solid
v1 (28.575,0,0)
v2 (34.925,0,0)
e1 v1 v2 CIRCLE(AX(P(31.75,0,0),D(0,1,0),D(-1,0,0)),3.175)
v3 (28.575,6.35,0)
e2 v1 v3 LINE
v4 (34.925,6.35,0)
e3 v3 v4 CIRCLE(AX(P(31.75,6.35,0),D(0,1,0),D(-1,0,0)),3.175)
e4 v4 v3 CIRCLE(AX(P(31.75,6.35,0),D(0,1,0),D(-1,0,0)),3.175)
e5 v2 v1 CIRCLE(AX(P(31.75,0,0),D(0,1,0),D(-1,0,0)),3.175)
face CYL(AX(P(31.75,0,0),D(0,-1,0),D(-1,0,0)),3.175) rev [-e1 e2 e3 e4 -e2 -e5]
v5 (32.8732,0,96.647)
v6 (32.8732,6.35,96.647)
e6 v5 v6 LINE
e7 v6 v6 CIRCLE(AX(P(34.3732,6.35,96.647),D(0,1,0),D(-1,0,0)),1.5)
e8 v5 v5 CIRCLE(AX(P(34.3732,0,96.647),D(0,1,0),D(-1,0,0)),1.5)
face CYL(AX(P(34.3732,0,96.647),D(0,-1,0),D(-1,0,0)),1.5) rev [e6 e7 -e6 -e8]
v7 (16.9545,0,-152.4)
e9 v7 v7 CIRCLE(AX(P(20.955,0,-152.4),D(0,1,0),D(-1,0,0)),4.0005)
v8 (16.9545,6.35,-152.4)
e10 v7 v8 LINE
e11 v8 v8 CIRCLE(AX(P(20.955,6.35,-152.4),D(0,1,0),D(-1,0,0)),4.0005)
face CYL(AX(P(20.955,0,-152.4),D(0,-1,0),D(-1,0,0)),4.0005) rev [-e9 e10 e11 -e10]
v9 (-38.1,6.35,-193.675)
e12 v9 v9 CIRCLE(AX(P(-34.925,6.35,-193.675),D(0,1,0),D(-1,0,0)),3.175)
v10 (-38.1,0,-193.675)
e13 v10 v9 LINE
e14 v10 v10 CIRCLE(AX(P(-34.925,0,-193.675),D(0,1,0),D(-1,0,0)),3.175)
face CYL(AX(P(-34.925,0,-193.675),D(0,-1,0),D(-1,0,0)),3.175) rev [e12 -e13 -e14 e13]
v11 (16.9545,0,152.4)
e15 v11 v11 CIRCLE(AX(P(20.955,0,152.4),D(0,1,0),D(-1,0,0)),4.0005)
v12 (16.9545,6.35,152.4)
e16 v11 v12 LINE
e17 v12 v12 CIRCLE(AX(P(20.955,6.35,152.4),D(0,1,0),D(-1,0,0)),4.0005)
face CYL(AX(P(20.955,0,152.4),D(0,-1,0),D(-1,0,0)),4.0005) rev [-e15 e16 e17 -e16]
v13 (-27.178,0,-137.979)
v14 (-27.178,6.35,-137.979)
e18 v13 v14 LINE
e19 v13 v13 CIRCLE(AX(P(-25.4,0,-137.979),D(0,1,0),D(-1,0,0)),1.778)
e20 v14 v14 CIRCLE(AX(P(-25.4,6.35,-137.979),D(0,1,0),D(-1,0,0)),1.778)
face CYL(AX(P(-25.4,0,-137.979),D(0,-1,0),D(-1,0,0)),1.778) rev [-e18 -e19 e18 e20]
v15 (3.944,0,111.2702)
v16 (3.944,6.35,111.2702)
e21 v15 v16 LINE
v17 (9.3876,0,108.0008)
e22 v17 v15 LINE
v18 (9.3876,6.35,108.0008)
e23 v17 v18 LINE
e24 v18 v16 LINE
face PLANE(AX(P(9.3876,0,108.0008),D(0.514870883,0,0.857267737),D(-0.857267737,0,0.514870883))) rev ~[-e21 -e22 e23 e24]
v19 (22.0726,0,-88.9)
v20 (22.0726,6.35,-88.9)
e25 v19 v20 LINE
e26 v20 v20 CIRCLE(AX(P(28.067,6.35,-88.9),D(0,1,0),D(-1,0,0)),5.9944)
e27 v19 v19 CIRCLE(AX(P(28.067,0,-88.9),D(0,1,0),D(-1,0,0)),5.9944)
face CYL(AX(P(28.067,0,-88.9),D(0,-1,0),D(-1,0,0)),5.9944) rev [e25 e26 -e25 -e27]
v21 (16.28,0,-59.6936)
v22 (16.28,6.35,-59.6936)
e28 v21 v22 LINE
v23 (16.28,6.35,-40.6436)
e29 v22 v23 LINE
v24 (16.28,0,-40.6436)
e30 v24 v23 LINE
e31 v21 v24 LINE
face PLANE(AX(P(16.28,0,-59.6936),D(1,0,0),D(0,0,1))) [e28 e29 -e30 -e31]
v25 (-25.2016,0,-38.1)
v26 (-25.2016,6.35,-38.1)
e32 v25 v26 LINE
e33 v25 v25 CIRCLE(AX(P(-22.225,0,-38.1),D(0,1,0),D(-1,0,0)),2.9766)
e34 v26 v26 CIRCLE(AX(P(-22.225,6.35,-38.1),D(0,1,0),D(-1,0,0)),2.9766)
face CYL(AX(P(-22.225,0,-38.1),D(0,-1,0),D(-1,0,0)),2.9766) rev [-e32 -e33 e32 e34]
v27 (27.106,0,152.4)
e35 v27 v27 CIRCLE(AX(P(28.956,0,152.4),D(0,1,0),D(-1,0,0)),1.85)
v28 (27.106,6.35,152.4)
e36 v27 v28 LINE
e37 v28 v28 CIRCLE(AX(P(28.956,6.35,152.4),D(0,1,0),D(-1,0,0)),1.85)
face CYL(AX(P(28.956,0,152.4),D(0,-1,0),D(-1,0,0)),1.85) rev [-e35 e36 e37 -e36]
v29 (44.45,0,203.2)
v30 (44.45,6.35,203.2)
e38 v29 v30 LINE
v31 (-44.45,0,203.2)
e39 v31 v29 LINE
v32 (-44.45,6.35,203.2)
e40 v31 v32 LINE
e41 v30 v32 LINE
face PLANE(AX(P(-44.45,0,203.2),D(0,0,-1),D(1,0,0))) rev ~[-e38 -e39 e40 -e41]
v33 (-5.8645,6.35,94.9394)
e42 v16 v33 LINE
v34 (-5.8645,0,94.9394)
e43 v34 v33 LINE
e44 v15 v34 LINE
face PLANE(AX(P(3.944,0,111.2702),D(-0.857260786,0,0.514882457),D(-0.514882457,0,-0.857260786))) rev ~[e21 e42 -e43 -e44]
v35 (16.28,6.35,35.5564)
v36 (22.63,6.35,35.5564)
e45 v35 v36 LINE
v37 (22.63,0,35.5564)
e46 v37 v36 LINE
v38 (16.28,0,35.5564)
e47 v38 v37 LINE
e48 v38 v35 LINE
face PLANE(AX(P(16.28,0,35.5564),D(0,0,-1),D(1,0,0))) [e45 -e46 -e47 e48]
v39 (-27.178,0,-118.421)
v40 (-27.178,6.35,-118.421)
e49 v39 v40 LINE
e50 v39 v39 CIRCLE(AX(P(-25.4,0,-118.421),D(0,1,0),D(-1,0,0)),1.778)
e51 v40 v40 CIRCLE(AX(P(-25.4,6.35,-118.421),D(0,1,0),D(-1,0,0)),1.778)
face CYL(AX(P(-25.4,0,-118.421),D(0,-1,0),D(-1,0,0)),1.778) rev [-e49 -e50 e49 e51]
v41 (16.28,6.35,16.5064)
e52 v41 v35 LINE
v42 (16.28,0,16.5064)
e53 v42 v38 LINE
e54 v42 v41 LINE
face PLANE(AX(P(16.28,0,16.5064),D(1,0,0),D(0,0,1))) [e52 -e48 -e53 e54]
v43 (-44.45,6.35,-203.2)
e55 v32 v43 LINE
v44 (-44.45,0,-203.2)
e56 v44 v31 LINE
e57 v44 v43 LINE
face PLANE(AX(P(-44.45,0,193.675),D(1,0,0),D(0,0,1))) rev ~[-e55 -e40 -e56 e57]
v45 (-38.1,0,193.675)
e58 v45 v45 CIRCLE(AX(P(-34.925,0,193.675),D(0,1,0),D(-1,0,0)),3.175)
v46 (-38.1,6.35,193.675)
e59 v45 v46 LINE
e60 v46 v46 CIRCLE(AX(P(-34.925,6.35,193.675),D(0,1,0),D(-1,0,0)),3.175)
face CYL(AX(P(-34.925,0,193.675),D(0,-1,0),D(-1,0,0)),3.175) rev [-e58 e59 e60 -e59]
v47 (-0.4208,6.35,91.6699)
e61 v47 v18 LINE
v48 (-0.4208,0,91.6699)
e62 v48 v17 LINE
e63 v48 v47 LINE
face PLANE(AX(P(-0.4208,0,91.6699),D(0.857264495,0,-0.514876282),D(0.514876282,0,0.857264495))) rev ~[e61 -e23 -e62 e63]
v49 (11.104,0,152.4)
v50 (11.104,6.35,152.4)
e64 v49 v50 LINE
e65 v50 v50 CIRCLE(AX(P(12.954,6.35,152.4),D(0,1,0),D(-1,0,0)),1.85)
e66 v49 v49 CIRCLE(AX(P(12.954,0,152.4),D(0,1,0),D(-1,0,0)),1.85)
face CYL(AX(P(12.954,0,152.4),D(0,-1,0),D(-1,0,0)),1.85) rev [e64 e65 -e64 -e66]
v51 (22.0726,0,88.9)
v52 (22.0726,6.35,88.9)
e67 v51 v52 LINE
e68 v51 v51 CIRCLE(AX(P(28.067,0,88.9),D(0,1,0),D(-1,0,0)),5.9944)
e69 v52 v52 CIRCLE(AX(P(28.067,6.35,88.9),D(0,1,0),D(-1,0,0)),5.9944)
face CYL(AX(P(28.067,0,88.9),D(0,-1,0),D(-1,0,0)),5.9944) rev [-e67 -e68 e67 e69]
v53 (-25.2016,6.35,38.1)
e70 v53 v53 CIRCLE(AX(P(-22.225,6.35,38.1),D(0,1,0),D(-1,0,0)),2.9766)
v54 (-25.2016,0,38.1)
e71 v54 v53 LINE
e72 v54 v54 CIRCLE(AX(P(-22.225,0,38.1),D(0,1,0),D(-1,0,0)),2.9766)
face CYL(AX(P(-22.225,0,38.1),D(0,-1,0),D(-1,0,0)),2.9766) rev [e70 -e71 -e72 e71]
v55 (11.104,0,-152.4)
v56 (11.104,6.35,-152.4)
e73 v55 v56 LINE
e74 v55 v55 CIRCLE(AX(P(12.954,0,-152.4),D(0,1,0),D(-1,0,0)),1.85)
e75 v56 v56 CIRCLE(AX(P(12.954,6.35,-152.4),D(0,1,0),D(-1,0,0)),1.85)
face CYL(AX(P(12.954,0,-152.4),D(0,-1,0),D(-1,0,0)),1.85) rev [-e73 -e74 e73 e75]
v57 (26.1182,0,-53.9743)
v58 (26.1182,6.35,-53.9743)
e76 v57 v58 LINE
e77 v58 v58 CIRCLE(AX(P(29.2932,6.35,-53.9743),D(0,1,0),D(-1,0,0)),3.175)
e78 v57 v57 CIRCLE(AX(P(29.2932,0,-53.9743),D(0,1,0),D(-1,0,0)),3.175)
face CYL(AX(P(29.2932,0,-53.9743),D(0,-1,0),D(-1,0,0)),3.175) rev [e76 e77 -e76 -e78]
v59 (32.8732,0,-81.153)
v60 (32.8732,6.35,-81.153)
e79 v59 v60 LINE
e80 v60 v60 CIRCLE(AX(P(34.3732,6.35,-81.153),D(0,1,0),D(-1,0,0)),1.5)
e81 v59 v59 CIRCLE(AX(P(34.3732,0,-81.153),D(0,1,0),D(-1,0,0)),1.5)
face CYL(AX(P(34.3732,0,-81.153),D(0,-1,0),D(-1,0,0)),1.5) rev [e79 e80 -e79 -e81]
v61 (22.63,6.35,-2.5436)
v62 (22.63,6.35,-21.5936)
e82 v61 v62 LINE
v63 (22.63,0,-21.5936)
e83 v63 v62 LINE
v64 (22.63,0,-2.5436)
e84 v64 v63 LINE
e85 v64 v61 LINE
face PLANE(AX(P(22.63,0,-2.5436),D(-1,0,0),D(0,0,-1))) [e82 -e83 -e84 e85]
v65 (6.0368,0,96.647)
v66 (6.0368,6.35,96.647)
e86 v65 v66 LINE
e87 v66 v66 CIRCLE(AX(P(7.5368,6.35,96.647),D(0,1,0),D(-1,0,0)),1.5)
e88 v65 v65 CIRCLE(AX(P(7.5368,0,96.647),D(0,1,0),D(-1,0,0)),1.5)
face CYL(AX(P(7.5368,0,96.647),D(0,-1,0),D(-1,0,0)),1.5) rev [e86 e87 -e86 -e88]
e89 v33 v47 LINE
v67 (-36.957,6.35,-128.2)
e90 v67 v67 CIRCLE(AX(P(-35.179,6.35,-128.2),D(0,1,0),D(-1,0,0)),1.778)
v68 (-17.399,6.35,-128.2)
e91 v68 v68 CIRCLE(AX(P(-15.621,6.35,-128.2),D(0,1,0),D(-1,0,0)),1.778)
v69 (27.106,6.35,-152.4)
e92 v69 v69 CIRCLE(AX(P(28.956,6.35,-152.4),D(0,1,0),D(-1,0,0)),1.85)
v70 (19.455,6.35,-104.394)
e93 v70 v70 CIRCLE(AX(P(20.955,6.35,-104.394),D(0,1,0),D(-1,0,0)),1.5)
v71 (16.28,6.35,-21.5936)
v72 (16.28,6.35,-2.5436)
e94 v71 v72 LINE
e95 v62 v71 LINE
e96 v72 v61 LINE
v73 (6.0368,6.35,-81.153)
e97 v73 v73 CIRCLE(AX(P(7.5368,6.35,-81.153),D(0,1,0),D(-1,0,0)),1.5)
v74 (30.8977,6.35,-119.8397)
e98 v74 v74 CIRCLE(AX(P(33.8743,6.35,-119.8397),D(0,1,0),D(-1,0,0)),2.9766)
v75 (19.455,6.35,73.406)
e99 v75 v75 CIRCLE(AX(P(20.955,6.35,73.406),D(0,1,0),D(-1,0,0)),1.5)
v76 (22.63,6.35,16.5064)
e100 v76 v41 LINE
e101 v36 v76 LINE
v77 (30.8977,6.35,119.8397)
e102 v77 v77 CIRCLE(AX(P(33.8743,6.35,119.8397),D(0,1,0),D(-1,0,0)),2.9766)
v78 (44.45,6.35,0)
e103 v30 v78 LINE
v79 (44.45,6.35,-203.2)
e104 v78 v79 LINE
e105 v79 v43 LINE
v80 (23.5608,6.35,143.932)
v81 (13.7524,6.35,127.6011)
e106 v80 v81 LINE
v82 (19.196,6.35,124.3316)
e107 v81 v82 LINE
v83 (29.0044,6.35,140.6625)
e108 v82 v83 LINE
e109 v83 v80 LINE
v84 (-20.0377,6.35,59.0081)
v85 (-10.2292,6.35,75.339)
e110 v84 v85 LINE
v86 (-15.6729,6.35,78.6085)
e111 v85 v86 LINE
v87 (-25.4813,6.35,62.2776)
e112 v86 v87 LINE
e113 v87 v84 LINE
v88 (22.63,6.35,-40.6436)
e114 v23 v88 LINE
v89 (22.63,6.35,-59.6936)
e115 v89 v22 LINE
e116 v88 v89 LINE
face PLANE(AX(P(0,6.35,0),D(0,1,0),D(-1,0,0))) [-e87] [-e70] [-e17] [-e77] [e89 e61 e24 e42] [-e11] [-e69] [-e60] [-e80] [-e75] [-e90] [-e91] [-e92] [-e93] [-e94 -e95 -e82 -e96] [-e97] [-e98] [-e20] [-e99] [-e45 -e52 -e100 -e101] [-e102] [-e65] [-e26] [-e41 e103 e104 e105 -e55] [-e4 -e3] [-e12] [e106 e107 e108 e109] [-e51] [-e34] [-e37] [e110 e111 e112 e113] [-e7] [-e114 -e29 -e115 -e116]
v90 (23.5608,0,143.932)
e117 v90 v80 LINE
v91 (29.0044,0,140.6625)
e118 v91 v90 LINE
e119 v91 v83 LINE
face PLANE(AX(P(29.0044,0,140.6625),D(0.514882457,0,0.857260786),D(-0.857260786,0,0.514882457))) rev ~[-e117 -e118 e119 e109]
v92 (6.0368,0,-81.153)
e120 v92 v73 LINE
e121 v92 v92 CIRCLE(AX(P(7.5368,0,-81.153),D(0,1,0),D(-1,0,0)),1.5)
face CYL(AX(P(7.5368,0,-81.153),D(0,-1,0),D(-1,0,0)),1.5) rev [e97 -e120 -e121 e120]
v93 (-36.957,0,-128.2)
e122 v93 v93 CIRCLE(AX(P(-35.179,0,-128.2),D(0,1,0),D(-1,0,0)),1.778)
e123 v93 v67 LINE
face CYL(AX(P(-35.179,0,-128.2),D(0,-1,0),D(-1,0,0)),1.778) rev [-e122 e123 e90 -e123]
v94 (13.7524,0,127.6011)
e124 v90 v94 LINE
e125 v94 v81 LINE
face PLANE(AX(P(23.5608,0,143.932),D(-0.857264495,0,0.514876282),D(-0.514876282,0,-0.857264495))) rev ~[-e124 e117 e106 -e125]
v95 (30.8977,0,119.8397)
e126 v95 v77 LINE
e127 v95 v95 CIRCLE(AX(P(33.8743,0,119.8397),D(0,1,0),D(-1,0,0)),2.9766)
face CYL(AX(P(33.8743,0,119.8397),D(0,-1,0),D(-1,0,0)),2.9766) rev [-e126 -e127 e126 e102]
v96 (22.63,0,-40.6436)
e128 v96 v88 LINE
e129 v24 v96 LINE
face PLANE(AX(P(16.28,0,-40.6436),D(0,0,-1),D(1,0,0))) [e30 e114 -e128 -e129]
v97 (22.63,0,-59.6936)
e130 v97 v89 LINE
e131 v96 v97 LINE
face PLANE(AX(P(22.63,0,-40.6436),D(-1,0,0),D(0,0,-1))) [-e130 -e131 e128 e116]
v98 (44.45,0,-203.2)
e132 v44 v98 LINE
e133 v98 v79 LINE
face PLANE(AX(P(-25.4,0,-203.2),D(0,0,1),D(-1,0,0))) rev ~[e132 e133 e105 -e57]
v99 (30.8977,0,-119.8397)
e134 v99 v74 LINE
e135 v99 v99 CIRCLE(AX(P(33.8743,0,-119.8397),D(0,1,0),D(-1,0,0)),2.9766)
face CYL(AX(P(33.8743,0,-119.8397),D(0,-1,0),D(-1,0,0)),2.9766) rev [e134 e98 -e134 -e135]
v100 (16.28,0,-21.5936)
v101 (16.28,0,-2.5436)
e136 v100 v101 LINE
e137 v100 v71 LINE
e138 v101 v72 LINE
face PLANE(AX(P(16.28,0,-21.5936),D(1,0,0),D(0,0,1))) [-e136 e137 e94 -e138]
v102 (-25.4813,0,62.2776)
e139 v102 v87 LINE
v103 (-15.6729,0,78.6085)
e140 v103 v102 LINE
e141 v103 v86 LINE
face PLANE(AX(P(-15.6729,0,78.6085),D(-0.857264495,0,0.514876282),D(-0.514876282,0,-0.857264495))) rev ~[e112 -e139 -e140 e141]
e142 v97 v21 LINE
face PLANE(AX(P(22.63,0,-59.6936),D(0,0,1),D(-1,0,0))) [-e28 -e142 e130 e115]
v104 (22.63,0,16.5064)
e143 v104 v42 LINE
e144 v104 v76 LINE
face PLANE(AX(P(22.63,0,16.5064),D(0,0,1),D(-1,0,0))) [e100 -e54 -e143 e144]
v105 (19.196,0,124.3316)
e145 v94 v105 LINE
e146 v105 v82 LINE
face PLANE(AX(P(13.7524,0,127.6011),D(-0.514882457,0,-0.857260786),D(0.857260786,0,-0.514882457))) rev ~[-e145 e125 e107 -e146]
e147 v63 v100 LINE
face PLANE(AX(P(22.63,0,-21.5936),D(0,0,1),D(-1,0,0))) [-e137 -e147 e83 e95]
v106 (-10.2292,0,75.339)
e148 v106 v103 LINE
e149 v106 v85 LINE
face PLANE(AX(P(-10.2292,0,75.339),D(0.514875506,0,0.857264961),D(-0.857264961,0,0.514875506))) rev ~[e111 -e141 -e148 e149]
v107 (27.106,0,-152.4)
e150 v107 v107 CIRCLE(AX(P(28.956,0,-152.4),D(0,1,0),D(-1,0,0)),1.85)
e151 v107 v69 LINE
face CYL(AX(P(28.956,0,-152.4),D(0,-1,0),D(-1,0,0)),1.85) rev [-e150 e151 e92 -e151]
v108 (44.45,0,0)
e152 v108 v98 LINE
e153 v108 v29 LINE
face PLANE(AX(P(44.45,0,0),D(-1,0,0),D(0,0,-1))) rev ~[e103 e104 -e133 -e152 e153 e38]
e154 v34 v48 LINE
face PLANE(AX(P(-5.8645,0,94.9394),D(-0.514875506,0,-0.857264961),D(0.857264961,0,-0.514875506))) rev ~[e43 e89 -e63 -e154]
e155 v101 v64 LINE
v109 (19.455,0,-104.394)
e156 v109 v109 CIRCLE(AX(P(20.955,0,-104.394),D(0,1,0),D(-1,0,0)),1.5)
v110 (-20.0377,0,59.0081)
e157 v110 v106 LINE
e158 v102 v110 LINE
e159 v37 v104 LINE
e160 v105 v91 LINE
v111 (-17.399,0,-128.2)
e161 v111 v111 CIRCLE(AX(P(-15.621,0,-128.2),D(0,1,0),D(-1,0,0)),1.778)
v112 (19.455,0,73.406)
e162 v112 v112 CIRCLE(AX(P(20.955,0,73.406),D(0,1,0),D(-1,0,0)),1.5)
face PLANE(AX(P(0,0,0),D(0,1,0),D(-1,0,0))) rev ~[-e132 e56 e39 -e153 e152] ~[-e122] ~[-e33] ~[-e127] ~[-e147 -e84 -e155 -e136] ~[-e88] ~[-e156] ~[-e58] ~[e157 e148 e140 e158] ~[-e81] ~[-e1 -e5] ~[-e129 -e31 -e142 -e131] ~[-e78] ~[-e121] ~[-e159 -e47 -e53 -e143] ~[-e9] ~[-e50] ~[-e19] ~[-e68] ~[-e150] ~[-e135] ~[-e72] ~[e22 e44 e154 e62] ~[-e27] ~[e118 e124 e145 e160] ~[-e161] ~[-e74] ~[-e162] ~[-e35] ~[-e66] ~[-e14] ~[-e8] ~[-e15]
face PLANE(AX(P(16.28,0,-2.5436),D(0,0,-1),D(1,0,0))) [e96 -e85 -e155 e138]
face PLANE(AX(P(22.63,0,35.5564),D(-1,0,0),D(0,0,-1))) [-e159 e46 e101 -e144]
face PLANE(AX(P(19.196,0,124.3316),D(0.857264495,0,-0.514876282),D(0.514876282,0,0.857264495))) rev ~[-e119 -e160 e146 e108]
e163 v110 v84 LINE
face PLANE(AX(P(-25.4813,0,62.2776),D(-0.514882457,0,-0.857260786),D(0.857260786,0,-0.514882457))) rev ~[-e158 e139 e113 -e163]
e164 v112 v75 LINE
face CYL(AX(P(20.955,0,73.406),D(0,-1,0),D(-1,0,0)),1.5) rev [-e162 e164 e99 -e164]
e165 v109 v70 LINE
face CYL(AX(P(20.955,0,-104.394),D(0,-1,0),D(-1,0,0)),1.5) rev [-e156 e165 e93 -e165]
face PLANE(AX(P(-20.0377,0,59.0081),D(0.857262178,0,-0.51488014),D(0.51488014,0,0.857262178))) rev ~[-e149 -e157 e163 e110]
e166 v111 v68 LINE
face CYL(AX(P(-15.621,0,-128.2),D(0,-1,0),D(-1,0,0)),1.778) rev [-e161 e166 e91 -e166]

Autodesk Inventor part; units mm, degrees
ref_plane "YZ Plane" through (0, 0, 0) normal (1, 0, 0) x (0, 1, 0)
ref_plane "XZ Plane" through (0, 0, 0) normal (0, 1, 0) x (-1, 0, 0)
ref_plane "XY Plane" through (0, 0, 0) normal (0, 0, 1) x (1, 0, 0)
sketch "Sketch1" plane through (0, 0, 0) normal (0, 1, 0) x (-1, 0, 0)
  line L0 (44.45, 203.2) -> (-44.45, 203.2)
  line L1 (-44.45, 203.2) -> (-44.45, -203.2)
  line L2 (-44.45, -203.2) -> (44.45, -203.2)
  line L3 (44.45, -203.2) -> (44.45, 203.2)
  line L4 (44.45, 203.2) -> (-44.45, -203.2) construction
  line L5 (-44.45, 203.2) -> (44.45, -203.2) construction
  line L6 (-44.45, 203.2) -> (-20.955, 203.2)
  line L7 (-20.955, 203.2) -> (-20.955, 88.9) construction
  line L8 (-44.45, 88.9) -> (-44.45, 203.2)
  circle A0 centre (-20.955, 88.9) radius 15.494 construction
  line L9 (44.45, 203.2) -> (44.45, 111.6492)
  line L10 (44.45, 203.2) -> (44.45, 38.1)
  line L11 (44.45, 38.1) -> (22.225, 38.1) construction
  circle A1 centre (22.225, 38.1) radius 12.065 construction
  line L12 (-66.675, 88.9) -> (0, 88.9) construction
  line L13 (0, 88.9) -> (0, 203.2) construction
  line L14 (0, 203.2) -> (-66.675, 203.2)
  line L15 (-66.675, 203.2) -> (-66.675, 88.9) construction
  line L16 (-66.675, 203.2) -> (-66.675, 209.55) construction
  line L17 (-66.675, 209.55) -> (32.5679, 44.312) construction
  circle A2 centre (-20.955, 104.394) radius 1.5
  circle A3 centre (-34.3732, 96.647) radius 1.5
  circle A4 centre (-34.3732, 81.153) radius 1.5
  circle A5 centre (-20.955, 73.406) radius 1.5
  circle A6 centre (-7.5368, 81.153) radius 1.5
  circle A7 centre (-7.5368, 96.647) radius 1.5
  circle A8 centre (-20.955, 88.9) radius 7.112 construction
  circle A9 centre (-28.067, 88.9) radius 5.9944
  line L18 (-20.955, 88.9) -> (-20.955, 152.4) construction
  circle A10 centre (-20.955, 152.4) radius 8.001 construction
  circle A11 centre (-20.955, 152.4) radius 4.0005
  circle A12 centre (-20.955, 160.401) radius 1.85
  line L19 (42.545, 152.4) -> (-20.955, 152.4) construction
  circle A13 centre (-28.956, 152.4) radius 1.85
  line L20 (-20.955, 215.9) -> (-20.955, 152.4) construction
  circle A14 centre (-20.955, 144.399) radius 1.85
  line L21 (-84.455, 152.4) -> (-20.955, 152.4) construction
  circle A15 centre (-12.954, 152.4) radius 1.85
  line L22 (44.45, 0) -> (-44.45, 0) construction
  circle A16 centre (22.225, 38.1) radius 2.9766
  circle A17 centre (22.225, -38.1) radius 2.9766
  circle A18 centre (-33.8743, 119.8397) radius 12.065 construction
  circle A19 centre (-33.8743, 119.8397) radius 2.9766
  circle A20 centre (-20.955, 152.4) radius 50.8 construction
  line L23 (32.5679, 44.312) -> (22.7595, 60.6429) construction
  line L24 (22.7595, 60.6429) -> (17.8553, 68.8083) construction
  line L25 (15.6729, 78.6085) -> (25.4813, 62.2776)
  line L26 (25.4813, 62.2776) -> (20.0377, 59.0081)
  line L27 (20.0377, 59.0081) -> (10.2292, 75.339)
  line L28 (10.2292, 75.339) -> (15.6729, 78.6085)
  line L29 (15.6729, 78.6085) -> (20.0377, 59.0081) construction
  line L30 (25.4813, 62.2776) -> (10.2292, 75.339) construction
  line L31 (-3.944, 111.2702) -> (5.8645, 94.9394)
  line L32 (-9.3876, 108.0008) -> (-3.944, 111.2702)
  line L33 (5.8645, 94.9394) -> (0.4208, 91.6699)
  line L34 (0.4208, 91.6699) -> (-9.3876, 108.0008)
  line L35 (-23.5608, 143.932) -> (-13.7524, 127.6011)
  line L36 (-29.0044, 140.6625) -> (-23.5608, 143.932)
  line L37 (-13.7524, 127.6011) -> (-19.196, 124.3316)
  line L38 (-19.196, 124.3316) -> (-29.0044, 140.6625)
  circle A21 centre (-20.955, -104.394) radius 1.5
  circle A22 centre (-34.3732, -81.153) radius 1.5
  circle A23 centre (-7.5368, -81.153) radius 1.5
  circle A24 centre (-28.067, -88.9) radius 5.9944
  circle A25 centre (-20.955, -152.4) radius 4.0005
  circle A26 centre (-28.956, -152.4) radius 1.85
  circle A27 centre (-12.954, -152.4) radius 1.85
  circle A28 centre (22.225, -38.1) radius 2.9766
  circle A29 centre (-33.8743, -119.8397) radius 2.9766
  circle A30 centre (-29.2932, -53.9743) radius 3.175
  circle A31 centre (-28.067, 88.9) radius 31.75 construction
  line L39 (-28.067, 88.9) -> (-44.45, 88.9) construction
  line L40 (-44.45, 88.9) -> (-44.45, 12.7)
  line L41 (44.45, 203.2) -> (34.925, 203.2)
  line L42 (34.925, 203.2) -> (34.925, 193.675) construction
  line L43 (34.925, 193.675) -> (44.45, 193.675) construction
  line L44 (44.45, 193.675) -> (44.45, 203.2)
  circle A32 centre (34.925, 193.675) radius 3.175
  line L45 (-44.45, 0) -> (-31.75, 0)
  circle A33 centre (-31.75, 0) radius 3.175
  circle A34 centre (34.925, -193.675) radius 3.175
  line L46 (-44.45, 0) -> (-19.455, 0) construction
  line L47 (-16.28, -76.0639) -> (-22.63, -76.0639) construction
  line L48 (-22.63, -76.0639) -> (-22.63, 51.9267) construction
  line L49 (-22.63, 51.9267) -> (-16.28, 51.9267) construction
  line L50 (-16.28, 51.9267) -> (-16.28, -76.0639) construction
  line L51 (-16.28, -63.9953) -> (-22.63, 63.9953) construction
  line L52 (-22.63, -63.9953) -> (-16.28, 63.9953) construction
  line L53 (-16.28, 51.9267) -> (-22.63, -76.0639) construction
  line L54 (-22.63, 51.9267) -> (-16.28, -76.0639) construction
  line L55 (-16.28, -2.5436) -> (-22.63, -2.5436)
  line L56 (-22.63, -2.5436) -> (-22.63, -21.5936)
  line L57 (-22.63, -21.5936) -> (-16.28, -21.5936)
  line L58 (-16.28, -21.5936) -> (-16.28, -2.5436)
  line L59 (-16.28, -2.5436) -> (-22.63, -21.5936) construction
  line L60 (-22.63, -2.5436) -> (-16.28, -21.5936) construction
  line L61 (-16.28, -40.6436) -> (-22.63, -40.6436)
  line L62 (-16.28, -59.6936) -> (-16.28, -40.6436)
  line L63 (-22.63, -40.6436) -> (-22.63, -59.6936)
  line L64 (-22.63, -59.6936) -> (-16.28, -59.6936)
  line L65 (-16.28, 35.5564) -> (-22.63, 35.5564)
  line L66 (-16.28, 16.5064) -> (-16.28, 35.5564)
  line L67 (-22.63, 35.5564) -> (-22.63, 16.5064)
  line L68 (-22.63, 16.5064) -> (-16.28, 16.5064)
  line L69 (-16.28, -2.5436) -> (-22.63, -2.5436)
  line L70 (-16.28, -21.5936) -> (-16.28, -2.5436)
  line L71 (-22.63, -2.5436) -> (-22.63, -21.5936)
  line L72 (-22.63, -21.5936) -> (-16.28, -21.5936)
  line L73 (44.45, -203.2) -> (25.4, -203.2)
  line L74 (25.4, -203.2) -> (25.4, -128.2) construction
  line L75 (25.4, -128.2) -> (44.45, -128.2) construction
  line L76 (44.45, -128.2) -> (44.45, -203.2)
  circle A35 centre (25.4, -128.2) radius 6.35 construction
  circle A36 centre (25.4, -128.2) radius 9.779 construction
  circle A37 centre (15.621, -128.2) radius 1.778
  circle A38 centre (25.4, -128.2) radius 6.35 construction
  circle A39 centre (25.4, -128.2) radius 9.779 construction
  line L77 (100.4, -128.2) -> (25.4, -128.2) construction
  line L78 (25.4, -128.2) -> (25.4, -109.15) construction
  circle A40 centre (25.4, -137.979) radius 1.778
  circle A41 centre (25.4, -128.2) radius 6.35 construction
  circle A42 centre (25.4, -128.2) radius 9.779 construction
  line L79 (25.4, -53.2) -> (25.4, -128.2) construction
  line L80 (25.4, -128.2) -> (6.35, -128.2) construction
  circle A43 centre (35.179, -128.2) radius 1.778
  circle A44 centre (25.4, -128.2) radius 6.35 construction
  circle A45 centre (25.4, -128.2) radius 9.779 construction
  line L81 (-49.6, -128.2) -> (25.4, -128.2) construction
  line L82 (25.4, -128.2) -> (25.4, -147.25) construction
  circle A46 centre (25.4, -118.421) radius 1.778
  point P0 (0, 0)
  point P1 (-19.455, -12.0686)
  dimension "d4" = 30.988
  dimension "d7" = 24.13
  dimension "d16" = 14.224
  dimension "d19" = 16.002
  dimension "d74" = 19.558
  dimension "d0" = 88.9
  dimension "d1" = 406.4
  dimension "d2" = 114.3
  dimension "d3" = 23.495
  dimension "d5" = 165.1
  dimension "d6" = 22.225
  dimension "d10" = 6.35
  dimension "d14" = 360
  dimension "d17" = 11.9888
  dimension "d18" = 63.5
  dimension "d20" = 8.001
  dimension "d21" = 3.7
  dimension "d24" = 360
  dimension "d26" = 5.9531
  dimension "d27" = 24.13
  dimension "d28" = 5.9531
  dimension "d29" = 101.6
  dimension "d32" = 19.05
  dimension "d33" = 9.525
  dimension "d34" = 6.35
  dimension "d37" = 38.1
  dimension "d48" = 63.5
  dimension "d50" = 9.525
  dimension "d51" = 9.525
  dimension "d52" = 6.35
  dimension "d53" = 12.7
  dimension "d54" = 6.35
  dimension "d57" = 6.35
  dimension "d58" = 127.9906
  dimension "d59" = 6.35
  dimension "d60" = 19.05
  dimension "d63" = 38.1
  dimension "d66" = 38.1
  dimension "d71" = 75
  dimension "d72" = 19.05
  dimension "d73" = 12.7
  dimension "d75" = 3.556
  dimension "d78" = 360
extrude "Extrusion6" add sketch "Sketch1" along normal blind 6.35 contours L3 L2 L1 L0 | A2 | A4 | A6 | A12 | A14
properties part number "ChassisOutide10"
